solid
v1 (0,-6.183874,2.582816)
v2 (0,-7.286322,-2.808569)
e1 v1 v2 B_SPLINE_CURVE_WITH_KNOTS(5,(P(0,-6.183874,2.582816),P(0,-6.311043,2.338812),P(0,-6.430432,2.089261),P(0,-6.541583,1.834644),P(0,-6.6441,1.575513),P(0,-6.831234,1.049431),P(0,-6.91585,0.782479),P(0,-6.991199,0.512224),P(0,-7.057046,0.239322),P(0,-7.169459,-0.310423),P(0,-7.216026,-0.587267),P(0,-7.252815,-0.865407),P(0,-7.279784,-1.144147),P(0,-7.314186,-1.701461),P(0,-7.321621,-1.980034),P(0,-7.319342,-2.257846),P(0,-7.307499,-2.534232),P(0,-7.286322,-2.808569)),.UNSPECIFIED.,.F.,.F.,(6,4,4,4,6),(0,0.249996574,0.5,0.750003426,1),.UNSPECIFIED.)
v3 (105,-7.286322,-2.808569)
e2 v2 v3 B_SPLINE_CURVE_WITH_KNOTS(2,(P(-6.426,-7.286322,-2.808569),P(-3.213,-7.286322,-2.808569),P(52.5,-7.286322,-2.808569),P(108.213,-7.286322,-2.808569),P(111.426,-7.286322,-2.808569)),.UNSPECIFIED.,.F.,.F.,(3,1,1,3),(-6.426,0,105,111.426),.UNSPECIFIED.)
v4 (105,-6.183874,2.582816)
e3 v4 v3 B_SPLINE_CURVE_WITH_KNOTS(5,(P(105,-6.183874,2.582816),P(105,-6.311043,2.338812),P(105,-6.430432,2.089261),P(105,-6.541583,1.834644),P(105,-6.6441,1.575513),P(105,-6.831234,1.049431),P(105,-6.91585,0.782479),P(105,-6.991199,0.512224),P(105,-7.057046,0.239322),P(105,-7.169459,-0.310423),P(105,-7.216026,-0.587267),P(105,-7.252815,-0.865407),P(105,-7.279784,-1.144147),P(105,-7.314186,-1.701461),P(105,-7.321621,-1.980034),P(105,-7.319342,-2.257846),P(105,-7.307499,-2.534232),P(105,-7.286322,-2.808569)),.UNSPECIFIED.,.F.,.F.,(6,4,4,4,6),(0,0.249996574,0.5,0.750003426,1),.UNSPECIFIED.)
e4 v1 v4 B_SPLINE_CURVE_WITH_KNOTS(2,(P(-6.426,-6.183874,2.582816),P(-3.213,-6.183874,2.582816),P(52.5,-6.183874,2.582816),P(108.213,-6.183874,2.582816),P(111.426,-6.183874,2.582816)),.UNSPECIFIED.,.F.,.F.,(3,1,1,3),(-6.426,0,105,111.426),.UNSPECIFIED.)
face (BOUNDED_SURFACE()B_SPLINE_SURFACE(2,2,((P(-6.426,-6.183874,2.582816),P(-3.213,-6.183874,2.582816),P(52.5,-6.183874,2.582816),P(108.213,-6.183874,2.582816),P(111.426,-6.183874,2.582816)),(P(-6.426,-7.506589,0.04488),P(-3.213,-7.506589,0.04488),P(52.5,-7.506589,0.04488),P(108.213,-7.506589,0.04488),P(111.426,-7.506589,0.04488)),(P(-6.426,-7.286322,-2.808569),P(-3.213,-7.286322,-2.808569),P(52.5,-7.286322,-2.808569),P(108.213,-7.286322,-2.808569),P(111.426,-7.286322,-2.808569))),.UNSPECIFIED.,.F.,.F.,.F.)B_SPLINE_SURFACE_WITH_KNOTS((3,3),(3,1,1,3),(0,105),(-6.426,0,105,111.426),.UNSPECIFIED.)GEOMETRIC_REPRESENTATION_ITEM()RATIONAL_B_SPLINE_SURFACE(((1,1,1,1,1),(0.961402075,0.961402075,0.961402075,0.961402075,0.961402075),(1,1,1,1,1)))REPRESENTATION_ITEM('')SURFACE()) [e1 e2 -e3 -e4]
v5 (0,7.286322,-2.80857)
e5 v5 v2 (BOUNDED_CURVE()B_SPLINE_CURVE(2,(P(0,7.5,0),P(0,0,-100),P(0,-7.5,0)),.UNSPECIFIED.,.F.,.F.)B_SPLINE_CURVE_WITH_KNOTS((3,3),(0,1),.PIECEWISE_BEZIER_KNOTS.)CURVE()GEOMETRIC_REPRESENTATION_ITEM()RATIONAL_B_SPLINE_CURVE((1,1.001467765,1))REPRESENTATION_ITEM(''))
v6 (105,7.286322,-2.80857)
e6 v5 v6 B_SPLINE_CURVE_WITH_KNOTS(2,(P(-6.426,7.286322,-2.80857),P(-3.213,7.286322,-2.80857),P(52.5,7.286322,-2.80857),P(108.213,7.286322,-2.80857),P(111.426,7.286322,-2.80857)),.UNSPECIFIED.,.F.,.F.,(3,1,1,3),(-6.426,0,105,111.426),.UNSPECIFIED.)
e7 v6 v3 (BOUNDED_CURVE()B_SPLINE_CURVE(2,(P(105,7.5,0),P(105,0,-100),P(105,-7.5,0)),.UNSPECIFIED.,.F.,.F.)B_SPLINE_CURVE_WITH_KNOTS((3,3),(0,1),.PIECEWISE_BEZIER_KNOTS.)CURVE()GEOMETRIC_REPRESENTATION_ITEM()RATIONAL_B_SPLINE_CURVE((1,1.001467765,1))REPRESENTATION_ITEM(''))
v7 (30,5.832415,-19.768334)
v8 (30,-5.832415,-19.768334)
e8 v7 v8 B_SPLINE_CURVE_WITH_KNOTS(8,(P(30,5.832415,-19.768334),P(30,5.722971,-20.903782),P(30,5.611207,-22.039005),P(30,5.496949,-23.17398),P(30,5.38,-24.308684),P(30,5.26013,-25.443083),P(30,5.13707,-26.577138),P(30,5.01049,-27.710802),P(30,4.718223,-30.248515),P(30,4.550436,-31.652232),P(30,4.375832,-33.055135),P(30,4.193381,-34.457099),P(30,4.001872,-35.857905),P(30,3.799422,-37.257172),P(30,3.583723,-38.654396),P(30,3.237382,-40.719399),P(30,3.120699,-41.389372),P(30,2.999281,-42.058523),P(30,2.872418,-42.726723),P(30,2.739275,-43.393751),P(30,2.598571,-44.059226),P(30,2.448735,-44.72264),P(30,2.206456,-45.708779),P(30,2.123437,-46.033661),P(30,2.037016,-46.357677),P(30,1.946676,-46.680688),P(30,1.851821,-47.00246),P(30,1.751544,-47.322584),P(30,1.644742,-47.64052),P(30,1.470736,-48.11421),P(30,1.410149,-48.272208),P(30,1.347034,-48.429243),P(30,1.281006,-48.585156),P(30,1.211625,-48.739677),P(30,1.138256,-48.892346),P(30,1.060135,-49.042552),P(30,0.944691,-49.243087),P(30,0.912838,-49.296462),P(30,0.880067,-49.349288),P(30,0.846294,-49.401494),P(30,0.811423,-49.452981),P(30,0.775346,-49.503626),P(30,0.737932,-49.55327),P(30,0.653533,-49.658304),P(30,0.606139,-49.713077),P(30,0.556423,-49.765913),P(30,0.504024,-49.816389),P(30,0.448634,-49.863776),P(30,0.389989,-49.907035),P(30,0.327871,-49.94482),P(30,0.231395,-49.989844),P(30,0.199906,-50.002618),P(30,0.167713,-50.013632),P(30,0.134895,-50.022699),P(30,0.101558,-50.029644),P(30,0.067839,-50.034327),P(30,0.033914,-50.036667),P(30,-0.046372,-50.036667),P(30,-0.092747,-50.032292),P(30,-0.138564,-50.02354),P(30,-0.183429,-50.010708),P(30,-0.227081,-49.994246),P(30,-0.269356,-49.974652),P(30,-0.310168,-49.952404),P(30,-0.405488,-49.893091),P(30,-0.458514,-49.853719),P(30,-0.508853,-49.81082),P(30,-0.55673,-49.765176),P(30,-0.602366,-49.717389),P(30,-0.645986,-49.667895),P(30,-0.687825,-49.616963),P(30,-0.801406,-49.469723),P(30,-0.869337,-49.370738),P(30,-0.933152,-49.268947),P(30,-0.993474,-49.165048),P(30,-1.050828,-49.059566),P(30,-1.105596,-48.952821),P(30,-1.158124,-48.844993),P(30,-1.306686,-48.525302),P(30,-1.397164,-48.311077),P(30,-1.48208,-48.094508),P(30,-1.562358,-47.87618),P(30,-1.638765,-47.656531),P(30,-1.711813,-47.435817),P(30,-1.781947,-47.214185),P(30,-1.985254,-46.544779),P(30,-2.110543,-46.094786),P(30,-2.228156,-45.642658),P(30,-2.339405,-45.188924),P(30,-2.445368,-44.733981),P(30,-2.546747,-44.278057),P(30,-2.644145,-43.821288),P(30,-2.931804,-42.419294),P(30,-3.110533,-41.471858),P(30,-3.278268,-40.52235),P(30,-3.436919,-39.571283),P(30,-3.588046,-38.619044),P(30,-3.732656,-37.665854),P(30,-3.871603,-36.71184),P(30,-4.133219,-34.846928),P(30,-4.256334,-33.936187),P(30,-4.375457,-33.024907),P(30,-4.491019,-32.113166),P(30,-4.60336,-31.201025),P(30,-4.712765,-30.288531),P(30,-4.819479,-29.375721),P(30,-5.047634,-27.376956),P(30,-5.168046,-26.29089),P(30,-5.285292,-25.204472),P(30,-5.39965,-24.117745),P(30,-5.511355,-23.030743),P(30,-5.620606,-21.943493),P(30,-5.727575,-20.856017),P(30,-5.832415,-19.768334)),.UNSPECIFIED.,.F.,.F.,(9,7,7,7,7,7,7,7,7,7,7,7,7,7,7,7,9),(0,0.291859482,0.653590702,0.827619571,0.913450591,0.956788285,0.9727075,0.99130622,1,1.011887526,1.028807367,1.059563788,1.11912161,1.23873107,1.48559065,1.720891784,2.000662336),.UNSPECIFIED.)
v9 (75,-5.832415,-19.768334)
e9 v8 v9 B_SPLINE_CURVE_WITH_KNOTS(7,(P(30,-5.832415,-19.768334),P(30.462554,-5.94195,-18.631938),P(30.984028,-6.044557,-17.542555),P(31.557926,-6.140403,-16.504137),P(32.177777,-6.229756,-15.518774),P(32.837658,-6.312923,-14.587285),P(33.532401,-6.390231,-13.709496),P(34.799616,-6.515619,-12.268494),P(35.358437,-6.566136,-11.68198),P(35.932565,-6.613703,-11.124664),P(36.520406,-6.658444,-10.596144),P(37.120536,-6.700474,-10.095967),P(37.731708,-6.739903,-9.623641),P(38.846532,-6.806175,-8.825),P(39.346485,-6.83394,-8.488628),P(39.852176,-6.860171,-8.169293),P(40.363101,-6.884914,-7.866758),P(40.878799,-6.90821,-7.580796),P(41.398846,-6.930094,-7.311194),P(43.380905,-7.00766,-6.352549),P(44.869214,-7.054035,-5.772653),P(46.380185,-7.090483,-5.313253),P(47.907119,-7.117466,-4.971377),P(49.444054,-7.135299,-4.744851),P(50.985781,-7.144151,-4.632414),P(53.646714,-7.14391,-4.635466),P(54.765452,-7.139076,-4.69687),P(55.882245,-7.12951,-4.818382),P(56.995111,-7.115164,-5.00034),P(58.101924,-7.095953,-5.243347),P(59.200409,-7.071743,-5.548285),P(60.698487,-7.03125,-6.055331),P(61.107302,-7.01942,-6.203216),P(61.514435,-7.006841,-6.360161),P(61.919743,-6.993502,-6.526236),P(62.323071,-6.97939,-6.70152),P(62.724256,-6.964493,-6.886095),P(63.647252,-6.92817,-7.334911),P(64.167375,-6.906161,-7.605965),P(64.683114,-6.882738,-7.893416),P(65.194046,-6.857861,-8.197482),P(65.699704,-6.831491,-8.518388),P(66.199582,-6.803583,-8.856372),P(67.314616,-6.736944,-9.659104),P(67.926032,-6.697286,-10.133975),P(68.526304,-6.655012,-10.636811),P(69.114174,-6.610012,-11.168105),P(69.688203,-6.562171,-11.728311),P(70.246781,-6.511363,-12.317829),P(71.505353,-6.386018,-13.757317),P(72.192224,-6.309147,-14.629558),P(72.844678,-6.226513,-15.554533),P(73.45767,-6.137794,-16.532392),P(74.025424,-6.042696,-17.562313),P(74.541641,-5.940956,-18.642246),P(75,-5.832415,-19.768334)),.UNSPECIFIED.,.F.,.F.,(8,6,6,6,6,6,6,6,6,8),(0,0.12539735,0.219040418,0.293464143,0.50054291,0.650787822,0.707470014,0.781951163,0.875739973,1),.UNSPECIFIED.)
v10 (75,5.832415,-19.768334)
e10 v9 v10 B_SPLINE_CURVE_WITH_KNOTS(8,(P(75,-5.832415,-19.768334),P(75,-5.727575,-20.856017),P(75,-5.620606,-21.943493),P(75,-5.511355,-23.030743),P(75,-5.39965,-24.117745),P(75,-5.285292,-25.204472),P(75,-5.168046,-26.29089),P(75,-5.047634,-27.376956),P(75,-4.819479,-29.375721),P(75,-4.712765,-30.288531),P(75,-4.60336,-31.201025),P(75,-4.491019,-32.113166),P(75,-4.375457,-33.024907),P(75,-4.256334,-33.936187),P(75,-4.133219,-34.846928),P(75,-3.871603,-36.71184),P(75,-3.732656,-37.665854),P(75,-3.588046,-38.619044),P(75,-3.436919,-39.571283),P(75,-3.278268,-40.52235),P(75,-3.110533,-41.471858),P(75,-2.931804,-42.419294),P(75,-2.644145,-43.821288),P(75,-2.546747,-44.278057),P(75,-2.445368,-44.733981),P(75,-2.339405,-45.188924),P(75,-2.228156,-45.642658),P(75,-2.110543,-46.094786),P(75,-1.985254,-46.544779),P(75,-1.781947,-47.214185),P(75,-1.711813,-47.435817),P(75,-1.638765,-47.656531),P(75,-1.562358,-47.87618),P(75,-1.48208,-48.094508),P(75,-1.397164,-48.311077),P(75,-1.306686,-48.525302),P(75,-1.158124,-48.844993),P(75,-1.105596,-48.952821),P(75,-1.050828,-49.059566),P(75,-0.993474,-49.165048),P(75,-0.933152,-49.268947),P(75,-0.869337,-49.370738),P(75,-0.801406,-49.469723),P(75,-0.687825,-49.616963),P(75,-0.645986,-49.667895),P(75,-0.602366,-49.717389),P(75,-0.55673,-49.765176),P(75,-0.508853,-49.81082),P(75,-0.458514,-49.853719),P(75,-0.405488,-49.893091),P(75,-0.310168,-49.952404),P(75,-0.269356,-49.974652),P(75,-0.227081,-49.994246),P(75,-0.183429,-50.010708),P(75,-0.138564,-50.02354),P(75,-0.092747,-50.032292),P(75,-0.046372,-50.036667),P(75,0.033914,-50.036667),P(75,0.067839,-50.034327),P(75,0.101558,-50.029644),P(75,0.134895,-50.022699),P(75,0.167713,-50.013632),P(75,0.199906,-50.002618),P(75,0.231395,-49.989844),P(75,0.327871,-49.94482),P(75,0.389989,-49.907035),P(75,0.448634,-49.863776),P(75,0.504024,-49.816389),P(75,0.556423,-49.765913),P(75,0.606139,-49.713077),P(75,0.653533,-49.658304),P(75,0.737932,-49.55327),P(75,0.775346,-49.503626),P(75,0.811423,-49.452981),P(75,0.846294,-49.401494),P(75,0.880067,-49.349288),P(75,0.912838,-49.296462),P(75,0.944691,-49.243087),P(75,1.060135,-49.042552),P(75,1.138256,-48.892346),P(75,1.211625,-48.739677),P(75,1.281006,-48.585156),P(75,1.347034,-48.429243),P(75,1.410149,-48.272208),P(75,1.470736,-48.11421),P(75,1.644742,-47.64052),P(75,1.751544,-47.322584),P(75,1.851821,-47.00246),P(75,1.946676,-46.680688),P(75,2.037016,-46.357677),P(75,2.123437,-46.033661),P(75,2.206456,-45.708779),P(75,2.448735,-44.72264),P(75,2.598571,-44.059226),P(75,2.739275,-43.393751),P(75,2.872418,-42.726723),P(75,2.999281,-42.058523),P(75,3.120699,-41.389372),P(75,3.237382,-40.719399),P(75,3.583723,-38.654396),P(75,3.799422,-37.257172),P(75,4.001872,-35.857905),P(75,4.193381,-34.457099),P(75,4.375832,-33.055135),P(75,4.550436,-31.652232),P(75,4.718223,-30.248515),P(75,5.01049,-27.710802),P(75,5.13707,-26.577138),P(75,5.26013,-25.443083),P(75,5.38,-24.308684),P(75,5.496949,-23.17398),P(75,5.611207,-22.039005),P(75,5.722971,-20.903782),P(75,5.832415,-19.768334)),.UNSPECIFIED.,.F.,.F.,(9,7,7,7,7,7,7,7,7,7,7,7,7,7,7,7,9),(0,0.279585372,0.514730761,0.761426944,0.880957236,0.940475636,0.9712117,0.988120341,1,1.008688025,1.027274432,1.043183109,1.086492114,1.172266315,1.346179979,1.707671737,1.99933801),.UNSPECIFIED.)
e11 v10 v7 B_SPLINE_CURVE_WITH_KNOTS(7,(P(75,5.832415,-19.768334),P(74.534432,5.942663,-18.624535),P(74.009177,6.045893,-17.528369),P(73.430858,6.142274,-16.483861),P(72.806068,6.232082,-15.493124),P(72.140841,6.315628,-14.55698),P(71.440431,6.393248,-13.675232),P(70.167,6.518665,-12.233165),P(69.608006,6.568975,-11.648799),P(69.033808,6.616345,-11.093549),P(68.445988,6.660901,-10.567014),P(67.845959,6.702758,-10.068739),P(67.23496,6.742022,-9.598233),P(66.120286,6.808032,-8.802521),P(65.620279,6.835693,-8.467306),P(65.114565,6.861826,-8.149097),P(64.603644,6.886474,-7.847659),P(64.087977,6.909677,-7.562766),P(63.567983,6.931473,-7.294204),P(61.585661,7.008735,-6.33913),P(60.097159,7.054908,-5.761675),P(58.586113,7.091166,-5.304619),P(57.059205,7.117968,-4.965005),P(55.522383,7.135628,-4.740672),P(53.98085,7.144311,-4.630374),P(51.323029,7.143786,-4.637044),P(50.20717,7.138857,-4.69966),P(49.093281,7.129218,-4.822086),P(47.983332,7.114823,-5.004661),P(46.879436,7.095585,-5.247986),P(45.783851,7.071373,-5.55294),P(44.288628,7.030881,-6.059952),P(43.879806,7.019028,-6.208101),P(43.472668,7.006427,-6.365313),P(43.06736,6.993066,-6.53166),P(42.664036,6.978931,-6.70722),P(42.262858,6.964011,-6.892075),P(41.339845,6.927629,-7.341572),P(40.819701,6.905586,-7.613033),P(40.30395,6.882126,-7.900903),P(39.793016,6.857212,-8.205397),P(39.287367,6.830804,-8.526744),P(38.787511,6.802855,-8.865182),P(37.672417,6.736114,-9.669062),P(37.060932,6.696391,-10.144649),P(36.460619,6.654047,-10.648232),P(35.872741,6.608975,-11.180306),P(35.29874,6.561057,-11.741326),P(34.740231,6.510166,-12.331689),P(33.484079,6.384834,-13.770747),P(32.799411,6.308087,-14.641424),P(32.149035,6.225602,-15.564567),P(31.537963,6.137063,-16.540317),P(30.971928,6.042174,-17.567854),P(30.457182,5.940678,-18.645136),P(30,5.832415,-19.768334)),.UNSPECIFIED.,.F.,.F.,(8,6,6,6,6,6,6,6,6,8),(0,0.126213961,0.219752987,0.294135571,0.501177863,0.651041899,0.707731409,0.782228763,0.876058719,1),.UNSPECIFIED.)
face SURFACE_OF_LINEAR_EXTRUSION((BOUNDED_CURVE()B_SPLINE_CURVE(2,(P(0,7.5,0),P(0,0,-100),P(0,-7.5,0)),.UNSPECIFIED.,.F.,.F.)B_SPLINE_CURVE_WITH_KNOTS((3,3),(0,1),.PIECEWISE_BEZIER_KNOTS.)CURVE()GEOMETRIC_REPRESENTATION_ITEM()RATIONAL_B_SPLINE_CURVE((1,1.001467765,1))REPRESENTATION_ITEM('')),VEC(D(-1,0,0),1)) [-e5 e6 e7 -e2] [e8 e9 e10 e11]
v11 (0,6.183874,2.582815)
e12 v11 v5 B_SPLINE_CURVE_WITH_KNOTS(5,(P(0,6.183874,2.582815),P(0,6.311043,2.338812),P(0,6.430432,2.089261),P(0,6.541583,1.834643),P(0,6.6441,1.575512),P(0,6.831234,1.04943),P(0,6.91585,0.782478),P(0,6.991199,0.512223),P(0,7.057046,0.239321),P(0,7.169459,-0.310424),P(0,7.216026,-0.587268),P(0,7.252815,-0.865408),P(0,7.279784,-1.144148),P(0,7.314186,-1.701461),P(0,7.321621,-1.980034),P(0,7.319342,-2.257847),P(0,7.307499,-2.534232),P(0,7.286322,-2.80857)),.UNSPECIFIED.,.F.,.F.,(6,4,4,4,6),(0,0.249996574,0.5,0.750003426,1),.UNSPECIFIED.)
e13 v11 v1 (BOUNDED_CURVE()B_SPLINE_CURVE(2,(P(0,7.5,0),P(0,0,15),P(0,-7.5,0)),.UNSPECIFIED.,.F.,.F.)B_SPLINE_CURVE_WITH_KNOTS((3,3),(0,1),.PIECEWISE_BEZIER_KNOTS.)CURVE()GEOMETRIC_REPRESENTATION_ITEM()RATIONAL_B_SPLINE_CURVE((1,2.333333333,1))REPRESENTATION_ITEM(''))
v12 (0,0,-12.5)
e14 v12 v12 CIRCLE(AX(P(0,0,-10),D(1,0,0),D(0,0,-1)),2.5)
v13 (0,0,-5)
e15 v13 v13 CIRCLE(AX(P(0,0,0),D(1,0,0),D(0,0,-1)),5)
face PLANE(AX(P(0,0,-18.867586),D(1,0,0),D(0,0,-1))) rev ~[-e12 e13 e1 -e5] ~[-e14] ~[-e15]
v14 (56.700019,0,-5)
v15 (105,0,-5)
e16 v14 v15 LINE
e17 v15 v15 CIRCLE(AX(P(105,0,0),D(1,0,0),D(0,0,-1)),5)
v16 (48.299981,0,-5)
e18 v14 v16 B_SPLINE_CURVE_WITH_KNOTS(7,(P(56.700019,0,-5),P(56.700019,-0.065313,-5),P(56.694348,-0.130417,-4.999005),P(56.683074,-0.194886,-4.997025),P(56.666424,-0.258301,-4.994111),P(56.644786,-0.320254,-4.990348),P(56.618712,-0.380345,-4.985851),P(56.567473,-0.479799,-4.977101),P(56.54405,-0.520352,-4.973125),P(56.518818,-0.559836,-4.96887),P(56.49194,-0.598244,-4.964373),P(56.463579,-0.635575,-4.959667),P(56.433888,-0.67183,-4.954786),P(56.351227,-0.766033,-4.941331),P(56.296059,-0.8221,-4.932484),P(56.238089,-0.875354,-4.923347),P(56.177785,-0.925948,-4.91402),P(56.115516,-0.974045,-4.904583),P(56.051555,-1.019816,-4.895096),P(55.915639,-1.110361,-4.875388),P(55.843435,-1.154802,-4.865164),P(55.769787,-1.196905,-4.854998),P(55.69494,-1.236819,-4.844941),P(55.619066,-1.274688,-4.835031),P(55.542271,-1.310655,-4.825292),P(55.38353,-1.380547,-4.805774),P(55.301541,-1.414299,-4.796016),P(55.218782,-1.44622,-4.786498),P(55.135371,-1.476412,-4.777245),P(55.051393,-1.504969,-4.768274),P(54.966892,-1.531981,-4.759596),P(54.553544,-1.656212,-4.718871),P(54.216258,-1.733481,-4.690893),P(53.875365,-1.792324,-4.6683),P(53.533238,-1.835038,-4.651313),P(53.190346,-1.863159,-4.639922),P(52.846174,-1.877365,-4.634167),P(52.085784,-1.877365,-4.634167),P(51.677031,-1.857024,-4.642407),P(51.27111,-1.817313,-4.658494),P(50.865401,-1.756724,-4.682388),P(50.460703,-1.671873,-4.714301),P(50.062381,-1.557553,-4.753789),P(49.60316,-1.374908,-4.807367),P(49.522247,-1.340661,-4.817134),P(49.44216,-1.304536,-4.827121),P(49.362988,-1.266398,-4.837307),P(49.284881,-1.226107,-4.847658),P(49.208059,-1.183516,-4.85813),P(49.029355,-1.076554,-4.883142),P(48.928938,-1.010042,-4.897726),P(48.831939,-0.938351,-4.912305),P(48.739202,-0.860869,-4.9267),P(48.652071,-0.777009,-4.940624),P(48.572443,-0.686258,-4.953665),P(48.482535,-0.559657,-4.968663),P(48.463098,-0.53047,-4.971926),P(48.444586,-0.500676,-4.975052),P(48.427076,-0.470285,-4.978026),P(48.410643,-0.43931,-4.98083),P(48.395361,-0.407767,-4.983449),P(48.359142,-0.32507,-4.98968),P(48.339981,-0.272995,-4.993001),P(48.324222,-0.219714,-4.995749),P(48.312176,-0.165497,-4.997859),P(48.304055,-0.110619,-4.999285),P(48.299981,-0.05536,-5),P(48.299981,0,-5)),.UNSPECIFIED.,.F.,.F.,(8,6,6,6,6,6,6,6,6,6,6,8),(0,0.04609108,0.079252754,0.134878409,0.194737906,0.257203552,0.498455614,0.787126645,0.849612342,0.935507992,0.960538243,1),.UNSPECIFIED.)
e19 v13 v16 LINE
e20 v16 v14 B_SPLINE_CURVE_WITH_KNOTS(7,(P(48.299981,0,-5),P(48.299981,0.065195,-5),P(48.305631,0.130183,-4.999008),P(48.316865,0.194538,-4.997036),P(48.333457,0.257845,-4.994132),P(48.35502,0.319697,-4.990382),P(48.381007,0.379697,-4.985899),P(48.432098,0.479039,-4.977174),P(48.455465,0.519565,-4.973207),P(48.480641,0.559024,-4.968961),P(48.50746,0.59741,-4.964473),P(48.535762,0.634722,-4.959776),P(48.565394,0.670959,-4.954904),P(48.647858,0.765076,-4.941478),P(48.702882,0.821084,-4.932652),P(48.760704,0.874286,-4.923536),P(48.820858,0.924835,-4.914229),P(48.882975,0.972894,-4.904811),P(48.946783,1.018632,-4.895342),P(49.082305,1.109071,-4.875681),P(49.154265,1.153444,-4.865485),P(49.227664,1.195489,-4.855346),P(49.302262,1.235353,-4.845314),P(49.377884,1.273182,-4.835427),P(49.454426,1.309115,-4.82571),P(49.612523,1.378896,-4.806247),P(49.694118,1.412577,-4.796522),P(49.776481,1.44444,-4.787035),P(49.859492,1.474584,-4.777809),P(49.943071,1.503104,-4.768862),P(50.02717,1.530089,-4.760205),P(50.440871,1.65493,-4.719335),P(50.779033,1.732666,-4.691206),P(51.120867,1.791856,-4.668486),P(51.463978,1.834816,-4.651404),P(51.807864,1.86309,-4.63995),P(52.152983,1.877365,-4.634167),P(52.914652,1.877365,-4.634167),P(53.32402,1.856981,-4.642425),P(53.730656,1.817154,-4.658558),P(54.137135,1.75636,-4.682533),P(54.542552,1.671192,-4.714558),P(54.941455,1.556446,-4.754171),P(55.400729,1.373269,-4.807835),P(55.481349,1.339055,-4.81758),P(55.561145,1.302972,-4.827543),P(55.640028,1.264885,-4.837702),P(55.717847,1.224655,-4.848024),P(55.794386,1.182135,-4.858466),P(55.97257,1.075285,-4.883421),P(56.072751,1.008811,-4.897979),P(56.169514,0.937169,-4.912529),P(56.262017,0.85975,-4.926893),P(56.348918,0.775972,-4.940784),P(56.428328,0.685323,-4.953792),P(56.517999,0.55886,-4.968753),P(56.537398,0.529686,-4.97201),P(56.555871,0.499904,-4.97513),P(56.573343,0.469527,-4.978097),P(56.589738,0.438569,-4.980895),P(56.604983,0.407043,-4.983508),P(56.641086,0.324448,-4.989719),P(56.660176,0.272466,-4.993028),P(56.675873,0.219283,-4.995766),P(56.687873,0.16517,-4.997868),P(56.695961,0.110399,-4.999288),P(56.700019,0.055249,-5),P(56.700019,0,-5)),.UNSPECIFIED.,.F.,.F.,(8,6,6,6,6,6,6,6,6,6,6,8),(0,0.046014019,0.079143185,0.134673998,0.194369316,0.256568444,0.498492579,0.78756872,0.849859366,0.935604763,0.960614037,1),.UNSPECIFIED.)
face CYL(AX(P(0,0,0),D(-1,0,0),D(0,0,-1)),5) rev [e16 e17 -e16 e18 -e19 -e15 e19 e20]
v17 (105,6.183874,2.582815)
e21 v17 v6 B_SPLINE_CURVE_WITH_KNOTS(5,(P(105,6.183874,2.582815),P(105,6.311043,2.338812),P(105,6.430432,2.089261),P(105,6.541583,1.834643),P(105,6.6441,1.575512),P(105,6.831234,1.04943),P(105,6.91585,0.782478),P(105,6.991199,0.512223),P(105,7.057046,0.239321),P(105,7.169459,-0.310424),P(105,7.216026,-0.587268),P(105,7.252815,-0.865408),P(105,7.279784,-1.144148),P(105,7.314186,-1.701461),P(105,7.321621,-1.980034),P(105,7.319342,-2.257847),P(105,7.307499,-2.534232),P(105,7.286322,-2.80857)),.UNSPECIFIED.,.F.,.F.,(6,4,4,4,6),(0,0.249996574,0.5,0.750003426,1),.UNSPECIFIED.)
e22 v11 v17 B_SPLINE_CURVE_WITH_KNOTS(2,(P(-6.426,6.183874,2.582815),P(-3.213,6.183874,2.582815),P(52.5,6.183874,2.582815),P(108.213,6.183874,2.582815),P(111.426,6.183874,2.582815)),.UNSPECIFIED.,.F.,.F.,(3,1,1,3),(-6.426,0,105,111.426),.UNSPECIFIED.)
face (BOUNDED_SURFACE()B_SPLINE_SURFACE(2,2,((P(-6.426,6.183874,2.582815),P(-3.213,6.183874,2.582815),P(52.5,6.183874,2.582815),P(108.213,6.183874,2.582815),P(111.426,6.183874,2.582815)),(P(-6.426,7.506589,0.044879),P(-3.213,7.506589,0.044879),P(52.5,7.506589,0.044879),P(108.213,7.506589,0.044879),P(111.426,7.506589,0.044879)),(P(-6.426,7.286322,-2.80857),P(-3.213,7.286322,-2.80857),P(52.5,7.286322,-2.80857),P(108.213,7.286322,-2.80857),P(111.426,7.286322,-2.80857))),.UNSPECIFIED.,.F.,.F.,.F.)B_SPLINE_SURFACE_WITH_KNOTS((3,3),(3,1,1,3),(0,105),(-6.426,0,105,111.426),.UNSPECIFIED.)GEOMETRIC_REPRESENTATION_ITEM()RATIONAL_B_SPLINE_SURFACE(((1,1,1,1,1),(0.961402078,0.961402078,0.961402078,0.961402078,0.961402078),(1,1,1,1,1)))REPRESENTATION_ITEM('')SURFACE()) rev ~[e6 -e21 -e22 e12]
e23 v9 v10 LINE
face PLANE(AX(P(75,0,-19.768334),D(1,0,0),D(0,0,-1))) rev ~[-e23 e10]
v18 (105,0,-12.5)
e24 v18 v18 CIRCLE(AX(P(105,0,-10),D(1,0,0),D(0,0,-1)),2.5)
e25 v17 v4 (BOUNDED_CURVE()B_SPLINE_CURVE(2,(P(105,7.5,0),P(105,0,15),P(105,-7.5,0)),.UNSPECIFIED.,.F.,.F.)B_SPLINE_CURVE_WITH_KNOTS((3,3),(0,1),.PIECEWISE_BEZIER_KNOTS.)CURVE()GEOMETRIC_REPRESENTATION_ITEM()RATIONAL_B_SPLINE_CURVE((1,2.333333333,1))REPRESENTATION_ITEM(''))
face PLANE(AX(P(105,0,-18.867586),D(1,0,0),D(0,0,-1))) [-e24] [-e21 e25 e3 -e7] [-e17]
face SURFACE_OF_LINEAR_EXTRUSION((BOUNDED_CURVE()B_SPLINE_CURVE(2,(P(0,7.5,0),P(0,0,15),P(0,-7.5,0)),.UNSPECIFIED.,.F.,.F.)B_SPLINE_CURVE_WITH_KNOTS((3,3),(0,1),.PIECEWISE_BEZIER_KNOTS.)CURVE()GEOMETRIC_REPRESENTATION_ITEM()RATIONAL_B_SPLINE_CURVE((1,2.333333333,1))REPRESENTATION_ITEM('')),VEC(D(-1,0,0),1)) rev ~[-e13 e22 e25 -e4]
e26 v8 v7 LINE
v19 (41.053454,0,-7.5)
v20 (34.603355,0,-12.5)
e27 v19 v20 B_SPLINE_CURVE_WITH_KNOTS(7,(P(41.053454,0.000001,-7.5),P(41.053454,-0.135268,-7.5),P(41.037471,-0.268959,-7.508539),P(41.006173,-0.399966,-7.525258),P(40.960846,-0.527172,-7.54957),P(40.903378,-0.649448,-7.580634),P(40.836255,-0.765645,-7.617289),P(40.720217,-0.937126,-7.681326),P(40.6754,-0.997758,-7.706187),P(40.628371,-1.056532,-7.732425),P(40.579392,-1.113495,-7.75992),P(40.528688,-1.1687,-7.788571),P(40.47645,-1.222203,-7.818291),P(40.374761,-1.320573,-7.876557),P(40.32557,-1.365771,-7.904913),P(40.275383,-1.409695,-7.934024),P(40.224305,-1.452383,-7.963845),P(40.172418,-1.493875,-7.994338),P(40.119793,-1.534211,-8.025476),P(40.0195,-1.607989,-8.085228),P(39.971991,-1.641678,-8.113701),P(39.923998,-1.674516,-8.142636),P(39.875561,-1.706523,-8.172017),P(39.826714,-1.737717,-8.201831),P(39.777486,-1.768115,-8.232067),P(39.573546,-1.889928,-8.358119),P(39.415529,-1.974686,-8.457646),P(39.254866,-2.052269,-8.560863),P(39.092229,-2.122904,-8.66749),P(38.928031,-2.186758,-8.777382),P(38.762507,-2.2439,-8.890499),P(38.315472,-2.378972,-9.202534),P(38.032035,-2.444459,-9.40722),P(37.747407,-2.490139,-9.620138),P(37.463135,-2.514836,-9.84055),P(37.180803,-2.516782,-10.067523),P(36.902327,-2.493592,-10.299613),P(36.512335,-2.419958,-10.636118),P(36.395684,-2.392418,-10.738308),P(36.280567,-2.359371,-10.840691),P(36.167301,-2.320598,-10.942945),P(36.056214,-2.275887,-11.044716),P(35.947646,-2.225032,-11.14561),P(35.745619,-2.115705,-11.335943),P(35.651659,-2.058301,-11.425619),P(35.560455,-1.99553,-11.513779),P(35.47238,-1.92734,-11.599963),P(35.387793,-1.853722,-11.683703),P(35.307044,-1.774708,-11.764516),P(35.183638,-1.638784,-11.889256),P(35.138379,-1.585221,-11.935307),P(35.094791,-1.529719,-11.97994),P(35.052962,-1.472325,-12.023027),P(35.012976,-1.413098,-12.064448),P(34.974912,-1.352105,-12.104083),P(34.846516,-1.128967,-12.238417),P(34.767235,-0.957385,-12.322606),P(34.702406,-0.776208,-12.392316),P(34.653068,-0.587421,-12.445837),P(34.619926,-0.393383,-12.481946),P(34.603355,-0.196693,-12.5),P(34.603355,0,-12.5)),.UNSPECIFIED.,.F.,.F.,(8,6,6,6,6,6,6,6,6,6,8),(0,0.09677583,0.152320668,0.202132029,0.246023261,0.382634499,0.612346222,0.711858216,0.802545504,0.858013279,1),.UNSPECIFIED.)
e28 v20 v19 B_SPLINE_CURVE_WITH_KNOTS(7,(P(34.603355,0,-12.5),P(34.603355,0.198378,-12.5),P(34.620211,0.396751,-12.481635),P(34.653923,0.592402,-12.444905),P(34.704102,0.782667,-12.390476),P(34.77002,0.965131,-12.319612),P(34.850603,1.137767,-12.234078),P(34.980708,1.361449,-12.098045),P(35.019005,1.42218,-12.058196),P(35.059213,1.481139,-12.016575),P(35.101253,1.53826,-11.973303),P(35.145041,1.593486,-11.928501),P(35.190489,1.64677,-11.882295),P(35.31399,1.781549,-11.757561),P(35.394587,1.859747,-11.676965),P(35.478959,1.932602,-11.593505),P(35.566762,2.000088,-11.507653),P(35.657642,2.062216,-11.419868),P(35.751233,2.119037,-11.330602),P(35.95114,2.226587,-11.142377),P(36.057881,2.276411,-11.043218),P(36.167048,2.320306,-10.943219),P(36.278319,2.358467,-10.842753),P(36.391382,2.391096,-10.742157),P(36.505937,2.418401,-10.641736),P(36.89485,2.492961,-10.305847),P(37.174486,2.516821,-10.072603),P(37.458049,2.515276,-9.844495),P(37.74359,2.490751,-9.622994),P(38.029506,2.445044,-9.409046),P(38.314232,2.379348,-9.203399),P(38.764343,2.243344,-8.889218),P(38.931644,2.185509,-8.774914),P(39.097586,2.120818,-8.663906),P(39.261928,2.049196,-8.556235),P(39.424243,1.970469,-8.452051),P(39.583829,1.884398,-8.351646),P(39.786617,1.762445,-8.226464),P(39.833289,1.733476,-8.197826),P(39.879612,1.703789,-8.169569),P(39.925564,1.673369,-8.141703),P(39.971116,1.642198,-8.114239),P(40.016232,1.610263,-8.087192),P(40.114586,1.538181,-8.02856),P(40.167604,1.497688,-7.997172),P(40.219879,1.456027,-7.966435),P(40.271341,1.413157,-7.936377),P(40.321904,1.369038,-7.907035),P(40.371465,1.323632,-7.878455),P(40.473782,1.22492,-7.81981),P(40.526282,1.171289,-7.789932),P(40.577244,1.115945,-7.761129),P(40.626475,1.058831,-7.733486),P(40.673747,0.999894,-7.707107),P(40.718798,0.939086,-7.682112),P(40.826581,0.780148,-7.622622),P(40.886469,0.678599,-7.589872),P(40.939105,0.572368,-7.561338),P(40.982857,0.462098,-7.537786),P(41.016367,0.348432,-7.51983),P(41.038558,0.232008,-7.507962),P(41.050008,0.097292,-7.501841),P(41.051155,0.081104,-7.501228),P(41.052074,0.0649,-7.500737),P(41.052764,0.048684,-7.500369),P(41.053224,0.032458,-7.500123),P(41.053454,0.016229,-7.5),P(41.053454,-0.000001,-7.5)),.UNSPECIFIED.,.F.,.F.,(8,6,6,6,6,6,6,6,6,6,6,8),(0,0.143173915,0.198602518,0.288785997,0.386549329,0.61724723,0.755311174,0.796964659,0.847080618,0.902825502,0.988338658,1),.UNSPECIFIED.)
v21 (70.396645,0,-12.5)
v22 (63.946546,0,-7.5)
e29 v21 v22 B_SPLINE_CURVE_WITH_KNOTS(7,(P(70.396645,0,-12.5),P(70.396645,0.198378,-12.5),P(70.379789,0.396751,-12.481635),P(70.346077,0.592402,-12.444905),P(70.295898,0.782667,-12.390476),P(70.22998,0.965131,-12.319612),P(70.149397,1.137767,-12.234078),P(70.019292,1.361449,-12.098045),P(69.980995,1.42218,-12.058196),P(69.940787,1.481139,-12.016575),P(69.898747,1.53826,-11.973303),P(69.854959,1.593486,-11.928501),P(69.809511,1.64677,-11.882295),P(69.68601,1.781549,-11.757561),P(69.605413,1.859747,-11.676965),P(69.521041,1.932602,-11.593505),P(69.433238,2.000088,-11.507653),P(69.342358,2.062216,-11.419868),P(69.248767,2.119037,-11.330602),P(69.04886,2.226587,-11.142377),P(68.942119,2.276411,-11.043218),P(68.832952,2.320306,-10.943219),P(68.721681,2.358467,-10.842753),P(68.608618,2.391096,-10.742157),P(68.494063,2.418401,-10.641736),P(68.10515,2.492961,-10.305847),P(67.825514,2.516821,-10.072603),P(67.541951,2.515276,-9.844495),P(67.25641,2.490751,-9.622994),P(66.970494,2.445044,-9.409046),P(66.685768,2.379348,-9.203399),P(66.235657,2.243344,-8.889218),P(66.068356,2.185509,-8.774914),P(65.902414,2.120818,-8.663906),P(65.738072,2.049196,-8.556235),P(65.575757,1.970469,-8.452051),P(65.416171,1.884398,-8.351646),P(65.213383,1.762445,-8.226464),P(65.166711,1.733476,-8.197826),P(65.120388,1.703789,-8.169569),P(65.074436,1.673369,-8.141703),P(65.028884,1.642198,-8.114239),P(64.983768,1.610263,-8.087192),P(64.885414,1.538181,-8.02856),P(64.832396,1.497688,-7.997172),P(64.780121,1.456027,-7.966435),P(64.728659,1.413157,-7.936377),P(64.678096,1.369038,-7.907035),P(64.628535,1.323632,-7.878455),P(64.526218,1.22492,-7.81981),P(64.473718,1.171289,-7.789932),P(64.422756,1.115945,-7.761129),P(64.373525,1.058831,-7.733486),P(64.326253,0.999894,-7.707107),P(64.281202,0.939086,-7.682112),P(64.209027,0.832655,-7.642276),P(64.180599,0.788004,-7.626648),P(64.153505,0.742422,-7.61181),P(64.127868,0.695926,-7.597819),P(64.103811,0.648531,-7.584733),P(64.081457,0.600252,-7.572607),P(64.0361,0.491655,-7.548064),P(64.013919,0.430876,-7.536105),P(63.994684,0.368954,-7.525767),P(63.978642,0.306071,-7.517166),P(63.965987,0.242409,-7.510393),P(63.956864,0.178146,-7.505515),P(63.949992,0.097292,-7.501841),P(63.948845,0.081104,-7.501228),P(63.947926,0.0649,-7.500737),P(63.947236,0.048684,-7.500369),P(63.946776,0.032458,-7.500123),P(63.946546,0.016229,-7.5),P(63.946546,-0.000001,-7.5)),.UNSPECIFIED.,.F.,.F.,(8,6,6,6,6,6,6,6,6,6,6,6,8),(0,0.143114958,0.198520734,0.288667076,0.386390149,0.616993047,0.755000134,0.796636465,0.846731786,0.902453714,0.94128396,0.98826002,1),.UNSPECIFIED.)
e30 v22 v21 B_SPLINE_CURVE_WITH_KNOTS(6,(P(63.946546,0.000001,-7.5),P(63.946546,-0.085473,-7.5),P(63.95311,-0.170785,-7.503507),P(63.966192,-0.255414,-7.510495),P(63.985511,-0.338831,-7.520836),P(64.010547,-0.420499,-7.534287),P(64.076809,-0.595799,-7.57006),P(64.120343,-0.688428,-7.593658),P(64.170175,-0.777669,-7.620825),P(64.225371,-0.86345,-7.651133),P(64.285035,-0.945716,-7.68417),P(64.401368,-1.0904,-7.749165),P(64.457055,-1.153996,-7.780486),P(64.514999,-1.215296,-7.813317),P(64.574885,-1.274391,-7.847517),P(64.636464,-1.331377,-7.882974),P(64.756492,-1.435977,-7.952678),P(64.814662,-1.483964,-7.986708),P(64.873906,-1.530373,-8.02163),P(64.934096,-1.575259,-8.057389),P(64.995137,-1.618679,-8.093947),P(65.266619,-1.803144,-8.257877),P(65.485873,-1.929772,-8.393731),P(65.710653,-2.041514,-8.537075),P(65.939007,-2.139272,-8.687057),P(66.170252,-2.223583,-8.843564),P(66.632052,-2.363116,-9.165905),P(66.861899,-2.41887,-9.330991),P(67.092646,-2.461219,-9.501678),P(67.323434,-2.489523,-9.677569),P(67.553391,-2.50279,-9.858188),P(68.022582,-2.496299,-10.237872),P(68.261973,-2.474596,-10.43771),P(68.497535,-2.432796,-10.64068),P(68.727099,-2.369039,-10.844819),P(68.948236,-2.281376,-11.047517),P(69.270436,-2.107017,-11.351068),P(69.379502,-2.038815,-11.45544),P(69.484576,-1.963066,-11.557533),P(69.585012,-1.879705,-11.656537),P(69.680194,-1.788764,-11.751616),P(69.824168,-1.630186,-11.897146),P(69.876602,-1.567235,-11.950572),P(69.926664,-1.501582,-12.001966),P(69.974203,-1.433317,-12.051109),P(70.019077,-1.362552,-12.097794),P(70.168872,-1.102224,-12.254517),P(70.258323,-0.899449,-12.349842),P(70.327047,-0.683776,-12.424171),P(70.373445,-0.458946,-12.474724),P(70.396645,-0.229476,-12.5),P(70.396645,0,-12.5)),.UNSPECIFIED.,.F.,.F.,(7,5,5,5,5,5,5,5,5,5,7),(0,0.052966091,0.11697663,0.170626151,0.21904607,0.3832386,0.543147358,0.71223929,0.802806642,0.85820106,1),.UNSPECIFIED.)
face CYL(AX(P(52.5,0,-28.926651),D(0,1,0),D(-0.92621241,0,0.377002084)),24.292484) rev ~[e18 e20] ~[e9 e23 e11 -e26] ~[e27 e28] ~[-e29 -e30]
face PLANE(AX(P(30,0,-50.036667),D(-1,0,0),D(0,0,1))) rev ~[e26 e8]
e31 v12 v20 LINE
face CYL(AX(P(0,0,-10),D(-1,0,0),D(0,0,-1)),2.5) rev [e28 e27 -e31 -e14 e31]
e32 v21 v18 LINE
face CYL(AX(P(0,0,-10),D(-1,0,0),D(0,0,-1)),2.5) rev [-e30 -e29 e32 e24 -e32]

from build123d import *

# Parameters (mm, degrees)
SKETCH1_R               = 5
SKETCH1_R_2             = 2.5
BOSS_EXTRUDE1_DEPTH     = 105
FILLET1_R               = 10
CUT_EXTRUDE1_DEPTH      = 117.542660484
CUT_EXTRUDE1_DEPTH_BACK = 117.542660484


with BuildPart() as part:
    # Sketch1 → Boss-Extrude1 (new body)
    with BuildSketch(Plane(origin=(0, 0, 0), x_dir=(0, 0, -1), z_dir=(1, 0, 0))):
        with BuildLine():
            add(Edge.make_bspline(
                [(3.73e-07, 7.5), (-15, 0), (-3.73e-07, -7.5)],
                knots=[0, 0, 0, 1, 1, 1], degree=2, weights=[1, 2.333333333, 1]))
            add(Edge.make_bspline(
                [(3.73e-07, 7.5), (100, 0), (-3.73e-07, -7.5)],
                knots=[0, 0, 0, 1, 1, 1], degree=2, weights=[1, 1.001467765, 1]))
        make_face()
        Circle(SKETCH1_R, mode=Mode.SUBTRACT)
        with Locations((10, 0)):
            Circle(SKETCH1_R_2, mode=Mode.SUBTRACT)
    extrude(amount=BOSS_EXTRUDE1_DEPTH)

    # Fillet1
    fillet1_edges = [part.edges().sort_by_distance(p)[0] for p in [
        (52.5, 7.5, -3.73e-07),
        (52.5, -7.5, 3.73e-07),
    ]]
    fillet(fillet1_edges, radius=FILLET1_R)

    # Sketch2 → Cut-Extrude1 (cut, two sides)
    with BuildSketch(Plane(origin=(0, 0, 0), x_dir=(1, 0, 0), z_dir=(0, 1, 0))) as cut_extrude1_sk:
        with BuildLine():
            Line((75, 50.03666722), (30, 50.03666722))
            Line((30, 50.03666722), (30, 19.76833361))
            ThreePointArc((30, 19.76833361), (52.5, 4.634166805), (75, 19.76833361))
            Line((75, 19.76833361), (75, 50.03666722))
        make_face()
    extrude(amount=CUT_EXTRUDE1_DEPTH, mode=Mode.SUBTRACT)
    extrude(cut_extrude1_sk.sketch, amount=-CUT_EXTRUDE1_DEPTH_BACK, mode=Mode.SUBTRACT)


solid = part.part
